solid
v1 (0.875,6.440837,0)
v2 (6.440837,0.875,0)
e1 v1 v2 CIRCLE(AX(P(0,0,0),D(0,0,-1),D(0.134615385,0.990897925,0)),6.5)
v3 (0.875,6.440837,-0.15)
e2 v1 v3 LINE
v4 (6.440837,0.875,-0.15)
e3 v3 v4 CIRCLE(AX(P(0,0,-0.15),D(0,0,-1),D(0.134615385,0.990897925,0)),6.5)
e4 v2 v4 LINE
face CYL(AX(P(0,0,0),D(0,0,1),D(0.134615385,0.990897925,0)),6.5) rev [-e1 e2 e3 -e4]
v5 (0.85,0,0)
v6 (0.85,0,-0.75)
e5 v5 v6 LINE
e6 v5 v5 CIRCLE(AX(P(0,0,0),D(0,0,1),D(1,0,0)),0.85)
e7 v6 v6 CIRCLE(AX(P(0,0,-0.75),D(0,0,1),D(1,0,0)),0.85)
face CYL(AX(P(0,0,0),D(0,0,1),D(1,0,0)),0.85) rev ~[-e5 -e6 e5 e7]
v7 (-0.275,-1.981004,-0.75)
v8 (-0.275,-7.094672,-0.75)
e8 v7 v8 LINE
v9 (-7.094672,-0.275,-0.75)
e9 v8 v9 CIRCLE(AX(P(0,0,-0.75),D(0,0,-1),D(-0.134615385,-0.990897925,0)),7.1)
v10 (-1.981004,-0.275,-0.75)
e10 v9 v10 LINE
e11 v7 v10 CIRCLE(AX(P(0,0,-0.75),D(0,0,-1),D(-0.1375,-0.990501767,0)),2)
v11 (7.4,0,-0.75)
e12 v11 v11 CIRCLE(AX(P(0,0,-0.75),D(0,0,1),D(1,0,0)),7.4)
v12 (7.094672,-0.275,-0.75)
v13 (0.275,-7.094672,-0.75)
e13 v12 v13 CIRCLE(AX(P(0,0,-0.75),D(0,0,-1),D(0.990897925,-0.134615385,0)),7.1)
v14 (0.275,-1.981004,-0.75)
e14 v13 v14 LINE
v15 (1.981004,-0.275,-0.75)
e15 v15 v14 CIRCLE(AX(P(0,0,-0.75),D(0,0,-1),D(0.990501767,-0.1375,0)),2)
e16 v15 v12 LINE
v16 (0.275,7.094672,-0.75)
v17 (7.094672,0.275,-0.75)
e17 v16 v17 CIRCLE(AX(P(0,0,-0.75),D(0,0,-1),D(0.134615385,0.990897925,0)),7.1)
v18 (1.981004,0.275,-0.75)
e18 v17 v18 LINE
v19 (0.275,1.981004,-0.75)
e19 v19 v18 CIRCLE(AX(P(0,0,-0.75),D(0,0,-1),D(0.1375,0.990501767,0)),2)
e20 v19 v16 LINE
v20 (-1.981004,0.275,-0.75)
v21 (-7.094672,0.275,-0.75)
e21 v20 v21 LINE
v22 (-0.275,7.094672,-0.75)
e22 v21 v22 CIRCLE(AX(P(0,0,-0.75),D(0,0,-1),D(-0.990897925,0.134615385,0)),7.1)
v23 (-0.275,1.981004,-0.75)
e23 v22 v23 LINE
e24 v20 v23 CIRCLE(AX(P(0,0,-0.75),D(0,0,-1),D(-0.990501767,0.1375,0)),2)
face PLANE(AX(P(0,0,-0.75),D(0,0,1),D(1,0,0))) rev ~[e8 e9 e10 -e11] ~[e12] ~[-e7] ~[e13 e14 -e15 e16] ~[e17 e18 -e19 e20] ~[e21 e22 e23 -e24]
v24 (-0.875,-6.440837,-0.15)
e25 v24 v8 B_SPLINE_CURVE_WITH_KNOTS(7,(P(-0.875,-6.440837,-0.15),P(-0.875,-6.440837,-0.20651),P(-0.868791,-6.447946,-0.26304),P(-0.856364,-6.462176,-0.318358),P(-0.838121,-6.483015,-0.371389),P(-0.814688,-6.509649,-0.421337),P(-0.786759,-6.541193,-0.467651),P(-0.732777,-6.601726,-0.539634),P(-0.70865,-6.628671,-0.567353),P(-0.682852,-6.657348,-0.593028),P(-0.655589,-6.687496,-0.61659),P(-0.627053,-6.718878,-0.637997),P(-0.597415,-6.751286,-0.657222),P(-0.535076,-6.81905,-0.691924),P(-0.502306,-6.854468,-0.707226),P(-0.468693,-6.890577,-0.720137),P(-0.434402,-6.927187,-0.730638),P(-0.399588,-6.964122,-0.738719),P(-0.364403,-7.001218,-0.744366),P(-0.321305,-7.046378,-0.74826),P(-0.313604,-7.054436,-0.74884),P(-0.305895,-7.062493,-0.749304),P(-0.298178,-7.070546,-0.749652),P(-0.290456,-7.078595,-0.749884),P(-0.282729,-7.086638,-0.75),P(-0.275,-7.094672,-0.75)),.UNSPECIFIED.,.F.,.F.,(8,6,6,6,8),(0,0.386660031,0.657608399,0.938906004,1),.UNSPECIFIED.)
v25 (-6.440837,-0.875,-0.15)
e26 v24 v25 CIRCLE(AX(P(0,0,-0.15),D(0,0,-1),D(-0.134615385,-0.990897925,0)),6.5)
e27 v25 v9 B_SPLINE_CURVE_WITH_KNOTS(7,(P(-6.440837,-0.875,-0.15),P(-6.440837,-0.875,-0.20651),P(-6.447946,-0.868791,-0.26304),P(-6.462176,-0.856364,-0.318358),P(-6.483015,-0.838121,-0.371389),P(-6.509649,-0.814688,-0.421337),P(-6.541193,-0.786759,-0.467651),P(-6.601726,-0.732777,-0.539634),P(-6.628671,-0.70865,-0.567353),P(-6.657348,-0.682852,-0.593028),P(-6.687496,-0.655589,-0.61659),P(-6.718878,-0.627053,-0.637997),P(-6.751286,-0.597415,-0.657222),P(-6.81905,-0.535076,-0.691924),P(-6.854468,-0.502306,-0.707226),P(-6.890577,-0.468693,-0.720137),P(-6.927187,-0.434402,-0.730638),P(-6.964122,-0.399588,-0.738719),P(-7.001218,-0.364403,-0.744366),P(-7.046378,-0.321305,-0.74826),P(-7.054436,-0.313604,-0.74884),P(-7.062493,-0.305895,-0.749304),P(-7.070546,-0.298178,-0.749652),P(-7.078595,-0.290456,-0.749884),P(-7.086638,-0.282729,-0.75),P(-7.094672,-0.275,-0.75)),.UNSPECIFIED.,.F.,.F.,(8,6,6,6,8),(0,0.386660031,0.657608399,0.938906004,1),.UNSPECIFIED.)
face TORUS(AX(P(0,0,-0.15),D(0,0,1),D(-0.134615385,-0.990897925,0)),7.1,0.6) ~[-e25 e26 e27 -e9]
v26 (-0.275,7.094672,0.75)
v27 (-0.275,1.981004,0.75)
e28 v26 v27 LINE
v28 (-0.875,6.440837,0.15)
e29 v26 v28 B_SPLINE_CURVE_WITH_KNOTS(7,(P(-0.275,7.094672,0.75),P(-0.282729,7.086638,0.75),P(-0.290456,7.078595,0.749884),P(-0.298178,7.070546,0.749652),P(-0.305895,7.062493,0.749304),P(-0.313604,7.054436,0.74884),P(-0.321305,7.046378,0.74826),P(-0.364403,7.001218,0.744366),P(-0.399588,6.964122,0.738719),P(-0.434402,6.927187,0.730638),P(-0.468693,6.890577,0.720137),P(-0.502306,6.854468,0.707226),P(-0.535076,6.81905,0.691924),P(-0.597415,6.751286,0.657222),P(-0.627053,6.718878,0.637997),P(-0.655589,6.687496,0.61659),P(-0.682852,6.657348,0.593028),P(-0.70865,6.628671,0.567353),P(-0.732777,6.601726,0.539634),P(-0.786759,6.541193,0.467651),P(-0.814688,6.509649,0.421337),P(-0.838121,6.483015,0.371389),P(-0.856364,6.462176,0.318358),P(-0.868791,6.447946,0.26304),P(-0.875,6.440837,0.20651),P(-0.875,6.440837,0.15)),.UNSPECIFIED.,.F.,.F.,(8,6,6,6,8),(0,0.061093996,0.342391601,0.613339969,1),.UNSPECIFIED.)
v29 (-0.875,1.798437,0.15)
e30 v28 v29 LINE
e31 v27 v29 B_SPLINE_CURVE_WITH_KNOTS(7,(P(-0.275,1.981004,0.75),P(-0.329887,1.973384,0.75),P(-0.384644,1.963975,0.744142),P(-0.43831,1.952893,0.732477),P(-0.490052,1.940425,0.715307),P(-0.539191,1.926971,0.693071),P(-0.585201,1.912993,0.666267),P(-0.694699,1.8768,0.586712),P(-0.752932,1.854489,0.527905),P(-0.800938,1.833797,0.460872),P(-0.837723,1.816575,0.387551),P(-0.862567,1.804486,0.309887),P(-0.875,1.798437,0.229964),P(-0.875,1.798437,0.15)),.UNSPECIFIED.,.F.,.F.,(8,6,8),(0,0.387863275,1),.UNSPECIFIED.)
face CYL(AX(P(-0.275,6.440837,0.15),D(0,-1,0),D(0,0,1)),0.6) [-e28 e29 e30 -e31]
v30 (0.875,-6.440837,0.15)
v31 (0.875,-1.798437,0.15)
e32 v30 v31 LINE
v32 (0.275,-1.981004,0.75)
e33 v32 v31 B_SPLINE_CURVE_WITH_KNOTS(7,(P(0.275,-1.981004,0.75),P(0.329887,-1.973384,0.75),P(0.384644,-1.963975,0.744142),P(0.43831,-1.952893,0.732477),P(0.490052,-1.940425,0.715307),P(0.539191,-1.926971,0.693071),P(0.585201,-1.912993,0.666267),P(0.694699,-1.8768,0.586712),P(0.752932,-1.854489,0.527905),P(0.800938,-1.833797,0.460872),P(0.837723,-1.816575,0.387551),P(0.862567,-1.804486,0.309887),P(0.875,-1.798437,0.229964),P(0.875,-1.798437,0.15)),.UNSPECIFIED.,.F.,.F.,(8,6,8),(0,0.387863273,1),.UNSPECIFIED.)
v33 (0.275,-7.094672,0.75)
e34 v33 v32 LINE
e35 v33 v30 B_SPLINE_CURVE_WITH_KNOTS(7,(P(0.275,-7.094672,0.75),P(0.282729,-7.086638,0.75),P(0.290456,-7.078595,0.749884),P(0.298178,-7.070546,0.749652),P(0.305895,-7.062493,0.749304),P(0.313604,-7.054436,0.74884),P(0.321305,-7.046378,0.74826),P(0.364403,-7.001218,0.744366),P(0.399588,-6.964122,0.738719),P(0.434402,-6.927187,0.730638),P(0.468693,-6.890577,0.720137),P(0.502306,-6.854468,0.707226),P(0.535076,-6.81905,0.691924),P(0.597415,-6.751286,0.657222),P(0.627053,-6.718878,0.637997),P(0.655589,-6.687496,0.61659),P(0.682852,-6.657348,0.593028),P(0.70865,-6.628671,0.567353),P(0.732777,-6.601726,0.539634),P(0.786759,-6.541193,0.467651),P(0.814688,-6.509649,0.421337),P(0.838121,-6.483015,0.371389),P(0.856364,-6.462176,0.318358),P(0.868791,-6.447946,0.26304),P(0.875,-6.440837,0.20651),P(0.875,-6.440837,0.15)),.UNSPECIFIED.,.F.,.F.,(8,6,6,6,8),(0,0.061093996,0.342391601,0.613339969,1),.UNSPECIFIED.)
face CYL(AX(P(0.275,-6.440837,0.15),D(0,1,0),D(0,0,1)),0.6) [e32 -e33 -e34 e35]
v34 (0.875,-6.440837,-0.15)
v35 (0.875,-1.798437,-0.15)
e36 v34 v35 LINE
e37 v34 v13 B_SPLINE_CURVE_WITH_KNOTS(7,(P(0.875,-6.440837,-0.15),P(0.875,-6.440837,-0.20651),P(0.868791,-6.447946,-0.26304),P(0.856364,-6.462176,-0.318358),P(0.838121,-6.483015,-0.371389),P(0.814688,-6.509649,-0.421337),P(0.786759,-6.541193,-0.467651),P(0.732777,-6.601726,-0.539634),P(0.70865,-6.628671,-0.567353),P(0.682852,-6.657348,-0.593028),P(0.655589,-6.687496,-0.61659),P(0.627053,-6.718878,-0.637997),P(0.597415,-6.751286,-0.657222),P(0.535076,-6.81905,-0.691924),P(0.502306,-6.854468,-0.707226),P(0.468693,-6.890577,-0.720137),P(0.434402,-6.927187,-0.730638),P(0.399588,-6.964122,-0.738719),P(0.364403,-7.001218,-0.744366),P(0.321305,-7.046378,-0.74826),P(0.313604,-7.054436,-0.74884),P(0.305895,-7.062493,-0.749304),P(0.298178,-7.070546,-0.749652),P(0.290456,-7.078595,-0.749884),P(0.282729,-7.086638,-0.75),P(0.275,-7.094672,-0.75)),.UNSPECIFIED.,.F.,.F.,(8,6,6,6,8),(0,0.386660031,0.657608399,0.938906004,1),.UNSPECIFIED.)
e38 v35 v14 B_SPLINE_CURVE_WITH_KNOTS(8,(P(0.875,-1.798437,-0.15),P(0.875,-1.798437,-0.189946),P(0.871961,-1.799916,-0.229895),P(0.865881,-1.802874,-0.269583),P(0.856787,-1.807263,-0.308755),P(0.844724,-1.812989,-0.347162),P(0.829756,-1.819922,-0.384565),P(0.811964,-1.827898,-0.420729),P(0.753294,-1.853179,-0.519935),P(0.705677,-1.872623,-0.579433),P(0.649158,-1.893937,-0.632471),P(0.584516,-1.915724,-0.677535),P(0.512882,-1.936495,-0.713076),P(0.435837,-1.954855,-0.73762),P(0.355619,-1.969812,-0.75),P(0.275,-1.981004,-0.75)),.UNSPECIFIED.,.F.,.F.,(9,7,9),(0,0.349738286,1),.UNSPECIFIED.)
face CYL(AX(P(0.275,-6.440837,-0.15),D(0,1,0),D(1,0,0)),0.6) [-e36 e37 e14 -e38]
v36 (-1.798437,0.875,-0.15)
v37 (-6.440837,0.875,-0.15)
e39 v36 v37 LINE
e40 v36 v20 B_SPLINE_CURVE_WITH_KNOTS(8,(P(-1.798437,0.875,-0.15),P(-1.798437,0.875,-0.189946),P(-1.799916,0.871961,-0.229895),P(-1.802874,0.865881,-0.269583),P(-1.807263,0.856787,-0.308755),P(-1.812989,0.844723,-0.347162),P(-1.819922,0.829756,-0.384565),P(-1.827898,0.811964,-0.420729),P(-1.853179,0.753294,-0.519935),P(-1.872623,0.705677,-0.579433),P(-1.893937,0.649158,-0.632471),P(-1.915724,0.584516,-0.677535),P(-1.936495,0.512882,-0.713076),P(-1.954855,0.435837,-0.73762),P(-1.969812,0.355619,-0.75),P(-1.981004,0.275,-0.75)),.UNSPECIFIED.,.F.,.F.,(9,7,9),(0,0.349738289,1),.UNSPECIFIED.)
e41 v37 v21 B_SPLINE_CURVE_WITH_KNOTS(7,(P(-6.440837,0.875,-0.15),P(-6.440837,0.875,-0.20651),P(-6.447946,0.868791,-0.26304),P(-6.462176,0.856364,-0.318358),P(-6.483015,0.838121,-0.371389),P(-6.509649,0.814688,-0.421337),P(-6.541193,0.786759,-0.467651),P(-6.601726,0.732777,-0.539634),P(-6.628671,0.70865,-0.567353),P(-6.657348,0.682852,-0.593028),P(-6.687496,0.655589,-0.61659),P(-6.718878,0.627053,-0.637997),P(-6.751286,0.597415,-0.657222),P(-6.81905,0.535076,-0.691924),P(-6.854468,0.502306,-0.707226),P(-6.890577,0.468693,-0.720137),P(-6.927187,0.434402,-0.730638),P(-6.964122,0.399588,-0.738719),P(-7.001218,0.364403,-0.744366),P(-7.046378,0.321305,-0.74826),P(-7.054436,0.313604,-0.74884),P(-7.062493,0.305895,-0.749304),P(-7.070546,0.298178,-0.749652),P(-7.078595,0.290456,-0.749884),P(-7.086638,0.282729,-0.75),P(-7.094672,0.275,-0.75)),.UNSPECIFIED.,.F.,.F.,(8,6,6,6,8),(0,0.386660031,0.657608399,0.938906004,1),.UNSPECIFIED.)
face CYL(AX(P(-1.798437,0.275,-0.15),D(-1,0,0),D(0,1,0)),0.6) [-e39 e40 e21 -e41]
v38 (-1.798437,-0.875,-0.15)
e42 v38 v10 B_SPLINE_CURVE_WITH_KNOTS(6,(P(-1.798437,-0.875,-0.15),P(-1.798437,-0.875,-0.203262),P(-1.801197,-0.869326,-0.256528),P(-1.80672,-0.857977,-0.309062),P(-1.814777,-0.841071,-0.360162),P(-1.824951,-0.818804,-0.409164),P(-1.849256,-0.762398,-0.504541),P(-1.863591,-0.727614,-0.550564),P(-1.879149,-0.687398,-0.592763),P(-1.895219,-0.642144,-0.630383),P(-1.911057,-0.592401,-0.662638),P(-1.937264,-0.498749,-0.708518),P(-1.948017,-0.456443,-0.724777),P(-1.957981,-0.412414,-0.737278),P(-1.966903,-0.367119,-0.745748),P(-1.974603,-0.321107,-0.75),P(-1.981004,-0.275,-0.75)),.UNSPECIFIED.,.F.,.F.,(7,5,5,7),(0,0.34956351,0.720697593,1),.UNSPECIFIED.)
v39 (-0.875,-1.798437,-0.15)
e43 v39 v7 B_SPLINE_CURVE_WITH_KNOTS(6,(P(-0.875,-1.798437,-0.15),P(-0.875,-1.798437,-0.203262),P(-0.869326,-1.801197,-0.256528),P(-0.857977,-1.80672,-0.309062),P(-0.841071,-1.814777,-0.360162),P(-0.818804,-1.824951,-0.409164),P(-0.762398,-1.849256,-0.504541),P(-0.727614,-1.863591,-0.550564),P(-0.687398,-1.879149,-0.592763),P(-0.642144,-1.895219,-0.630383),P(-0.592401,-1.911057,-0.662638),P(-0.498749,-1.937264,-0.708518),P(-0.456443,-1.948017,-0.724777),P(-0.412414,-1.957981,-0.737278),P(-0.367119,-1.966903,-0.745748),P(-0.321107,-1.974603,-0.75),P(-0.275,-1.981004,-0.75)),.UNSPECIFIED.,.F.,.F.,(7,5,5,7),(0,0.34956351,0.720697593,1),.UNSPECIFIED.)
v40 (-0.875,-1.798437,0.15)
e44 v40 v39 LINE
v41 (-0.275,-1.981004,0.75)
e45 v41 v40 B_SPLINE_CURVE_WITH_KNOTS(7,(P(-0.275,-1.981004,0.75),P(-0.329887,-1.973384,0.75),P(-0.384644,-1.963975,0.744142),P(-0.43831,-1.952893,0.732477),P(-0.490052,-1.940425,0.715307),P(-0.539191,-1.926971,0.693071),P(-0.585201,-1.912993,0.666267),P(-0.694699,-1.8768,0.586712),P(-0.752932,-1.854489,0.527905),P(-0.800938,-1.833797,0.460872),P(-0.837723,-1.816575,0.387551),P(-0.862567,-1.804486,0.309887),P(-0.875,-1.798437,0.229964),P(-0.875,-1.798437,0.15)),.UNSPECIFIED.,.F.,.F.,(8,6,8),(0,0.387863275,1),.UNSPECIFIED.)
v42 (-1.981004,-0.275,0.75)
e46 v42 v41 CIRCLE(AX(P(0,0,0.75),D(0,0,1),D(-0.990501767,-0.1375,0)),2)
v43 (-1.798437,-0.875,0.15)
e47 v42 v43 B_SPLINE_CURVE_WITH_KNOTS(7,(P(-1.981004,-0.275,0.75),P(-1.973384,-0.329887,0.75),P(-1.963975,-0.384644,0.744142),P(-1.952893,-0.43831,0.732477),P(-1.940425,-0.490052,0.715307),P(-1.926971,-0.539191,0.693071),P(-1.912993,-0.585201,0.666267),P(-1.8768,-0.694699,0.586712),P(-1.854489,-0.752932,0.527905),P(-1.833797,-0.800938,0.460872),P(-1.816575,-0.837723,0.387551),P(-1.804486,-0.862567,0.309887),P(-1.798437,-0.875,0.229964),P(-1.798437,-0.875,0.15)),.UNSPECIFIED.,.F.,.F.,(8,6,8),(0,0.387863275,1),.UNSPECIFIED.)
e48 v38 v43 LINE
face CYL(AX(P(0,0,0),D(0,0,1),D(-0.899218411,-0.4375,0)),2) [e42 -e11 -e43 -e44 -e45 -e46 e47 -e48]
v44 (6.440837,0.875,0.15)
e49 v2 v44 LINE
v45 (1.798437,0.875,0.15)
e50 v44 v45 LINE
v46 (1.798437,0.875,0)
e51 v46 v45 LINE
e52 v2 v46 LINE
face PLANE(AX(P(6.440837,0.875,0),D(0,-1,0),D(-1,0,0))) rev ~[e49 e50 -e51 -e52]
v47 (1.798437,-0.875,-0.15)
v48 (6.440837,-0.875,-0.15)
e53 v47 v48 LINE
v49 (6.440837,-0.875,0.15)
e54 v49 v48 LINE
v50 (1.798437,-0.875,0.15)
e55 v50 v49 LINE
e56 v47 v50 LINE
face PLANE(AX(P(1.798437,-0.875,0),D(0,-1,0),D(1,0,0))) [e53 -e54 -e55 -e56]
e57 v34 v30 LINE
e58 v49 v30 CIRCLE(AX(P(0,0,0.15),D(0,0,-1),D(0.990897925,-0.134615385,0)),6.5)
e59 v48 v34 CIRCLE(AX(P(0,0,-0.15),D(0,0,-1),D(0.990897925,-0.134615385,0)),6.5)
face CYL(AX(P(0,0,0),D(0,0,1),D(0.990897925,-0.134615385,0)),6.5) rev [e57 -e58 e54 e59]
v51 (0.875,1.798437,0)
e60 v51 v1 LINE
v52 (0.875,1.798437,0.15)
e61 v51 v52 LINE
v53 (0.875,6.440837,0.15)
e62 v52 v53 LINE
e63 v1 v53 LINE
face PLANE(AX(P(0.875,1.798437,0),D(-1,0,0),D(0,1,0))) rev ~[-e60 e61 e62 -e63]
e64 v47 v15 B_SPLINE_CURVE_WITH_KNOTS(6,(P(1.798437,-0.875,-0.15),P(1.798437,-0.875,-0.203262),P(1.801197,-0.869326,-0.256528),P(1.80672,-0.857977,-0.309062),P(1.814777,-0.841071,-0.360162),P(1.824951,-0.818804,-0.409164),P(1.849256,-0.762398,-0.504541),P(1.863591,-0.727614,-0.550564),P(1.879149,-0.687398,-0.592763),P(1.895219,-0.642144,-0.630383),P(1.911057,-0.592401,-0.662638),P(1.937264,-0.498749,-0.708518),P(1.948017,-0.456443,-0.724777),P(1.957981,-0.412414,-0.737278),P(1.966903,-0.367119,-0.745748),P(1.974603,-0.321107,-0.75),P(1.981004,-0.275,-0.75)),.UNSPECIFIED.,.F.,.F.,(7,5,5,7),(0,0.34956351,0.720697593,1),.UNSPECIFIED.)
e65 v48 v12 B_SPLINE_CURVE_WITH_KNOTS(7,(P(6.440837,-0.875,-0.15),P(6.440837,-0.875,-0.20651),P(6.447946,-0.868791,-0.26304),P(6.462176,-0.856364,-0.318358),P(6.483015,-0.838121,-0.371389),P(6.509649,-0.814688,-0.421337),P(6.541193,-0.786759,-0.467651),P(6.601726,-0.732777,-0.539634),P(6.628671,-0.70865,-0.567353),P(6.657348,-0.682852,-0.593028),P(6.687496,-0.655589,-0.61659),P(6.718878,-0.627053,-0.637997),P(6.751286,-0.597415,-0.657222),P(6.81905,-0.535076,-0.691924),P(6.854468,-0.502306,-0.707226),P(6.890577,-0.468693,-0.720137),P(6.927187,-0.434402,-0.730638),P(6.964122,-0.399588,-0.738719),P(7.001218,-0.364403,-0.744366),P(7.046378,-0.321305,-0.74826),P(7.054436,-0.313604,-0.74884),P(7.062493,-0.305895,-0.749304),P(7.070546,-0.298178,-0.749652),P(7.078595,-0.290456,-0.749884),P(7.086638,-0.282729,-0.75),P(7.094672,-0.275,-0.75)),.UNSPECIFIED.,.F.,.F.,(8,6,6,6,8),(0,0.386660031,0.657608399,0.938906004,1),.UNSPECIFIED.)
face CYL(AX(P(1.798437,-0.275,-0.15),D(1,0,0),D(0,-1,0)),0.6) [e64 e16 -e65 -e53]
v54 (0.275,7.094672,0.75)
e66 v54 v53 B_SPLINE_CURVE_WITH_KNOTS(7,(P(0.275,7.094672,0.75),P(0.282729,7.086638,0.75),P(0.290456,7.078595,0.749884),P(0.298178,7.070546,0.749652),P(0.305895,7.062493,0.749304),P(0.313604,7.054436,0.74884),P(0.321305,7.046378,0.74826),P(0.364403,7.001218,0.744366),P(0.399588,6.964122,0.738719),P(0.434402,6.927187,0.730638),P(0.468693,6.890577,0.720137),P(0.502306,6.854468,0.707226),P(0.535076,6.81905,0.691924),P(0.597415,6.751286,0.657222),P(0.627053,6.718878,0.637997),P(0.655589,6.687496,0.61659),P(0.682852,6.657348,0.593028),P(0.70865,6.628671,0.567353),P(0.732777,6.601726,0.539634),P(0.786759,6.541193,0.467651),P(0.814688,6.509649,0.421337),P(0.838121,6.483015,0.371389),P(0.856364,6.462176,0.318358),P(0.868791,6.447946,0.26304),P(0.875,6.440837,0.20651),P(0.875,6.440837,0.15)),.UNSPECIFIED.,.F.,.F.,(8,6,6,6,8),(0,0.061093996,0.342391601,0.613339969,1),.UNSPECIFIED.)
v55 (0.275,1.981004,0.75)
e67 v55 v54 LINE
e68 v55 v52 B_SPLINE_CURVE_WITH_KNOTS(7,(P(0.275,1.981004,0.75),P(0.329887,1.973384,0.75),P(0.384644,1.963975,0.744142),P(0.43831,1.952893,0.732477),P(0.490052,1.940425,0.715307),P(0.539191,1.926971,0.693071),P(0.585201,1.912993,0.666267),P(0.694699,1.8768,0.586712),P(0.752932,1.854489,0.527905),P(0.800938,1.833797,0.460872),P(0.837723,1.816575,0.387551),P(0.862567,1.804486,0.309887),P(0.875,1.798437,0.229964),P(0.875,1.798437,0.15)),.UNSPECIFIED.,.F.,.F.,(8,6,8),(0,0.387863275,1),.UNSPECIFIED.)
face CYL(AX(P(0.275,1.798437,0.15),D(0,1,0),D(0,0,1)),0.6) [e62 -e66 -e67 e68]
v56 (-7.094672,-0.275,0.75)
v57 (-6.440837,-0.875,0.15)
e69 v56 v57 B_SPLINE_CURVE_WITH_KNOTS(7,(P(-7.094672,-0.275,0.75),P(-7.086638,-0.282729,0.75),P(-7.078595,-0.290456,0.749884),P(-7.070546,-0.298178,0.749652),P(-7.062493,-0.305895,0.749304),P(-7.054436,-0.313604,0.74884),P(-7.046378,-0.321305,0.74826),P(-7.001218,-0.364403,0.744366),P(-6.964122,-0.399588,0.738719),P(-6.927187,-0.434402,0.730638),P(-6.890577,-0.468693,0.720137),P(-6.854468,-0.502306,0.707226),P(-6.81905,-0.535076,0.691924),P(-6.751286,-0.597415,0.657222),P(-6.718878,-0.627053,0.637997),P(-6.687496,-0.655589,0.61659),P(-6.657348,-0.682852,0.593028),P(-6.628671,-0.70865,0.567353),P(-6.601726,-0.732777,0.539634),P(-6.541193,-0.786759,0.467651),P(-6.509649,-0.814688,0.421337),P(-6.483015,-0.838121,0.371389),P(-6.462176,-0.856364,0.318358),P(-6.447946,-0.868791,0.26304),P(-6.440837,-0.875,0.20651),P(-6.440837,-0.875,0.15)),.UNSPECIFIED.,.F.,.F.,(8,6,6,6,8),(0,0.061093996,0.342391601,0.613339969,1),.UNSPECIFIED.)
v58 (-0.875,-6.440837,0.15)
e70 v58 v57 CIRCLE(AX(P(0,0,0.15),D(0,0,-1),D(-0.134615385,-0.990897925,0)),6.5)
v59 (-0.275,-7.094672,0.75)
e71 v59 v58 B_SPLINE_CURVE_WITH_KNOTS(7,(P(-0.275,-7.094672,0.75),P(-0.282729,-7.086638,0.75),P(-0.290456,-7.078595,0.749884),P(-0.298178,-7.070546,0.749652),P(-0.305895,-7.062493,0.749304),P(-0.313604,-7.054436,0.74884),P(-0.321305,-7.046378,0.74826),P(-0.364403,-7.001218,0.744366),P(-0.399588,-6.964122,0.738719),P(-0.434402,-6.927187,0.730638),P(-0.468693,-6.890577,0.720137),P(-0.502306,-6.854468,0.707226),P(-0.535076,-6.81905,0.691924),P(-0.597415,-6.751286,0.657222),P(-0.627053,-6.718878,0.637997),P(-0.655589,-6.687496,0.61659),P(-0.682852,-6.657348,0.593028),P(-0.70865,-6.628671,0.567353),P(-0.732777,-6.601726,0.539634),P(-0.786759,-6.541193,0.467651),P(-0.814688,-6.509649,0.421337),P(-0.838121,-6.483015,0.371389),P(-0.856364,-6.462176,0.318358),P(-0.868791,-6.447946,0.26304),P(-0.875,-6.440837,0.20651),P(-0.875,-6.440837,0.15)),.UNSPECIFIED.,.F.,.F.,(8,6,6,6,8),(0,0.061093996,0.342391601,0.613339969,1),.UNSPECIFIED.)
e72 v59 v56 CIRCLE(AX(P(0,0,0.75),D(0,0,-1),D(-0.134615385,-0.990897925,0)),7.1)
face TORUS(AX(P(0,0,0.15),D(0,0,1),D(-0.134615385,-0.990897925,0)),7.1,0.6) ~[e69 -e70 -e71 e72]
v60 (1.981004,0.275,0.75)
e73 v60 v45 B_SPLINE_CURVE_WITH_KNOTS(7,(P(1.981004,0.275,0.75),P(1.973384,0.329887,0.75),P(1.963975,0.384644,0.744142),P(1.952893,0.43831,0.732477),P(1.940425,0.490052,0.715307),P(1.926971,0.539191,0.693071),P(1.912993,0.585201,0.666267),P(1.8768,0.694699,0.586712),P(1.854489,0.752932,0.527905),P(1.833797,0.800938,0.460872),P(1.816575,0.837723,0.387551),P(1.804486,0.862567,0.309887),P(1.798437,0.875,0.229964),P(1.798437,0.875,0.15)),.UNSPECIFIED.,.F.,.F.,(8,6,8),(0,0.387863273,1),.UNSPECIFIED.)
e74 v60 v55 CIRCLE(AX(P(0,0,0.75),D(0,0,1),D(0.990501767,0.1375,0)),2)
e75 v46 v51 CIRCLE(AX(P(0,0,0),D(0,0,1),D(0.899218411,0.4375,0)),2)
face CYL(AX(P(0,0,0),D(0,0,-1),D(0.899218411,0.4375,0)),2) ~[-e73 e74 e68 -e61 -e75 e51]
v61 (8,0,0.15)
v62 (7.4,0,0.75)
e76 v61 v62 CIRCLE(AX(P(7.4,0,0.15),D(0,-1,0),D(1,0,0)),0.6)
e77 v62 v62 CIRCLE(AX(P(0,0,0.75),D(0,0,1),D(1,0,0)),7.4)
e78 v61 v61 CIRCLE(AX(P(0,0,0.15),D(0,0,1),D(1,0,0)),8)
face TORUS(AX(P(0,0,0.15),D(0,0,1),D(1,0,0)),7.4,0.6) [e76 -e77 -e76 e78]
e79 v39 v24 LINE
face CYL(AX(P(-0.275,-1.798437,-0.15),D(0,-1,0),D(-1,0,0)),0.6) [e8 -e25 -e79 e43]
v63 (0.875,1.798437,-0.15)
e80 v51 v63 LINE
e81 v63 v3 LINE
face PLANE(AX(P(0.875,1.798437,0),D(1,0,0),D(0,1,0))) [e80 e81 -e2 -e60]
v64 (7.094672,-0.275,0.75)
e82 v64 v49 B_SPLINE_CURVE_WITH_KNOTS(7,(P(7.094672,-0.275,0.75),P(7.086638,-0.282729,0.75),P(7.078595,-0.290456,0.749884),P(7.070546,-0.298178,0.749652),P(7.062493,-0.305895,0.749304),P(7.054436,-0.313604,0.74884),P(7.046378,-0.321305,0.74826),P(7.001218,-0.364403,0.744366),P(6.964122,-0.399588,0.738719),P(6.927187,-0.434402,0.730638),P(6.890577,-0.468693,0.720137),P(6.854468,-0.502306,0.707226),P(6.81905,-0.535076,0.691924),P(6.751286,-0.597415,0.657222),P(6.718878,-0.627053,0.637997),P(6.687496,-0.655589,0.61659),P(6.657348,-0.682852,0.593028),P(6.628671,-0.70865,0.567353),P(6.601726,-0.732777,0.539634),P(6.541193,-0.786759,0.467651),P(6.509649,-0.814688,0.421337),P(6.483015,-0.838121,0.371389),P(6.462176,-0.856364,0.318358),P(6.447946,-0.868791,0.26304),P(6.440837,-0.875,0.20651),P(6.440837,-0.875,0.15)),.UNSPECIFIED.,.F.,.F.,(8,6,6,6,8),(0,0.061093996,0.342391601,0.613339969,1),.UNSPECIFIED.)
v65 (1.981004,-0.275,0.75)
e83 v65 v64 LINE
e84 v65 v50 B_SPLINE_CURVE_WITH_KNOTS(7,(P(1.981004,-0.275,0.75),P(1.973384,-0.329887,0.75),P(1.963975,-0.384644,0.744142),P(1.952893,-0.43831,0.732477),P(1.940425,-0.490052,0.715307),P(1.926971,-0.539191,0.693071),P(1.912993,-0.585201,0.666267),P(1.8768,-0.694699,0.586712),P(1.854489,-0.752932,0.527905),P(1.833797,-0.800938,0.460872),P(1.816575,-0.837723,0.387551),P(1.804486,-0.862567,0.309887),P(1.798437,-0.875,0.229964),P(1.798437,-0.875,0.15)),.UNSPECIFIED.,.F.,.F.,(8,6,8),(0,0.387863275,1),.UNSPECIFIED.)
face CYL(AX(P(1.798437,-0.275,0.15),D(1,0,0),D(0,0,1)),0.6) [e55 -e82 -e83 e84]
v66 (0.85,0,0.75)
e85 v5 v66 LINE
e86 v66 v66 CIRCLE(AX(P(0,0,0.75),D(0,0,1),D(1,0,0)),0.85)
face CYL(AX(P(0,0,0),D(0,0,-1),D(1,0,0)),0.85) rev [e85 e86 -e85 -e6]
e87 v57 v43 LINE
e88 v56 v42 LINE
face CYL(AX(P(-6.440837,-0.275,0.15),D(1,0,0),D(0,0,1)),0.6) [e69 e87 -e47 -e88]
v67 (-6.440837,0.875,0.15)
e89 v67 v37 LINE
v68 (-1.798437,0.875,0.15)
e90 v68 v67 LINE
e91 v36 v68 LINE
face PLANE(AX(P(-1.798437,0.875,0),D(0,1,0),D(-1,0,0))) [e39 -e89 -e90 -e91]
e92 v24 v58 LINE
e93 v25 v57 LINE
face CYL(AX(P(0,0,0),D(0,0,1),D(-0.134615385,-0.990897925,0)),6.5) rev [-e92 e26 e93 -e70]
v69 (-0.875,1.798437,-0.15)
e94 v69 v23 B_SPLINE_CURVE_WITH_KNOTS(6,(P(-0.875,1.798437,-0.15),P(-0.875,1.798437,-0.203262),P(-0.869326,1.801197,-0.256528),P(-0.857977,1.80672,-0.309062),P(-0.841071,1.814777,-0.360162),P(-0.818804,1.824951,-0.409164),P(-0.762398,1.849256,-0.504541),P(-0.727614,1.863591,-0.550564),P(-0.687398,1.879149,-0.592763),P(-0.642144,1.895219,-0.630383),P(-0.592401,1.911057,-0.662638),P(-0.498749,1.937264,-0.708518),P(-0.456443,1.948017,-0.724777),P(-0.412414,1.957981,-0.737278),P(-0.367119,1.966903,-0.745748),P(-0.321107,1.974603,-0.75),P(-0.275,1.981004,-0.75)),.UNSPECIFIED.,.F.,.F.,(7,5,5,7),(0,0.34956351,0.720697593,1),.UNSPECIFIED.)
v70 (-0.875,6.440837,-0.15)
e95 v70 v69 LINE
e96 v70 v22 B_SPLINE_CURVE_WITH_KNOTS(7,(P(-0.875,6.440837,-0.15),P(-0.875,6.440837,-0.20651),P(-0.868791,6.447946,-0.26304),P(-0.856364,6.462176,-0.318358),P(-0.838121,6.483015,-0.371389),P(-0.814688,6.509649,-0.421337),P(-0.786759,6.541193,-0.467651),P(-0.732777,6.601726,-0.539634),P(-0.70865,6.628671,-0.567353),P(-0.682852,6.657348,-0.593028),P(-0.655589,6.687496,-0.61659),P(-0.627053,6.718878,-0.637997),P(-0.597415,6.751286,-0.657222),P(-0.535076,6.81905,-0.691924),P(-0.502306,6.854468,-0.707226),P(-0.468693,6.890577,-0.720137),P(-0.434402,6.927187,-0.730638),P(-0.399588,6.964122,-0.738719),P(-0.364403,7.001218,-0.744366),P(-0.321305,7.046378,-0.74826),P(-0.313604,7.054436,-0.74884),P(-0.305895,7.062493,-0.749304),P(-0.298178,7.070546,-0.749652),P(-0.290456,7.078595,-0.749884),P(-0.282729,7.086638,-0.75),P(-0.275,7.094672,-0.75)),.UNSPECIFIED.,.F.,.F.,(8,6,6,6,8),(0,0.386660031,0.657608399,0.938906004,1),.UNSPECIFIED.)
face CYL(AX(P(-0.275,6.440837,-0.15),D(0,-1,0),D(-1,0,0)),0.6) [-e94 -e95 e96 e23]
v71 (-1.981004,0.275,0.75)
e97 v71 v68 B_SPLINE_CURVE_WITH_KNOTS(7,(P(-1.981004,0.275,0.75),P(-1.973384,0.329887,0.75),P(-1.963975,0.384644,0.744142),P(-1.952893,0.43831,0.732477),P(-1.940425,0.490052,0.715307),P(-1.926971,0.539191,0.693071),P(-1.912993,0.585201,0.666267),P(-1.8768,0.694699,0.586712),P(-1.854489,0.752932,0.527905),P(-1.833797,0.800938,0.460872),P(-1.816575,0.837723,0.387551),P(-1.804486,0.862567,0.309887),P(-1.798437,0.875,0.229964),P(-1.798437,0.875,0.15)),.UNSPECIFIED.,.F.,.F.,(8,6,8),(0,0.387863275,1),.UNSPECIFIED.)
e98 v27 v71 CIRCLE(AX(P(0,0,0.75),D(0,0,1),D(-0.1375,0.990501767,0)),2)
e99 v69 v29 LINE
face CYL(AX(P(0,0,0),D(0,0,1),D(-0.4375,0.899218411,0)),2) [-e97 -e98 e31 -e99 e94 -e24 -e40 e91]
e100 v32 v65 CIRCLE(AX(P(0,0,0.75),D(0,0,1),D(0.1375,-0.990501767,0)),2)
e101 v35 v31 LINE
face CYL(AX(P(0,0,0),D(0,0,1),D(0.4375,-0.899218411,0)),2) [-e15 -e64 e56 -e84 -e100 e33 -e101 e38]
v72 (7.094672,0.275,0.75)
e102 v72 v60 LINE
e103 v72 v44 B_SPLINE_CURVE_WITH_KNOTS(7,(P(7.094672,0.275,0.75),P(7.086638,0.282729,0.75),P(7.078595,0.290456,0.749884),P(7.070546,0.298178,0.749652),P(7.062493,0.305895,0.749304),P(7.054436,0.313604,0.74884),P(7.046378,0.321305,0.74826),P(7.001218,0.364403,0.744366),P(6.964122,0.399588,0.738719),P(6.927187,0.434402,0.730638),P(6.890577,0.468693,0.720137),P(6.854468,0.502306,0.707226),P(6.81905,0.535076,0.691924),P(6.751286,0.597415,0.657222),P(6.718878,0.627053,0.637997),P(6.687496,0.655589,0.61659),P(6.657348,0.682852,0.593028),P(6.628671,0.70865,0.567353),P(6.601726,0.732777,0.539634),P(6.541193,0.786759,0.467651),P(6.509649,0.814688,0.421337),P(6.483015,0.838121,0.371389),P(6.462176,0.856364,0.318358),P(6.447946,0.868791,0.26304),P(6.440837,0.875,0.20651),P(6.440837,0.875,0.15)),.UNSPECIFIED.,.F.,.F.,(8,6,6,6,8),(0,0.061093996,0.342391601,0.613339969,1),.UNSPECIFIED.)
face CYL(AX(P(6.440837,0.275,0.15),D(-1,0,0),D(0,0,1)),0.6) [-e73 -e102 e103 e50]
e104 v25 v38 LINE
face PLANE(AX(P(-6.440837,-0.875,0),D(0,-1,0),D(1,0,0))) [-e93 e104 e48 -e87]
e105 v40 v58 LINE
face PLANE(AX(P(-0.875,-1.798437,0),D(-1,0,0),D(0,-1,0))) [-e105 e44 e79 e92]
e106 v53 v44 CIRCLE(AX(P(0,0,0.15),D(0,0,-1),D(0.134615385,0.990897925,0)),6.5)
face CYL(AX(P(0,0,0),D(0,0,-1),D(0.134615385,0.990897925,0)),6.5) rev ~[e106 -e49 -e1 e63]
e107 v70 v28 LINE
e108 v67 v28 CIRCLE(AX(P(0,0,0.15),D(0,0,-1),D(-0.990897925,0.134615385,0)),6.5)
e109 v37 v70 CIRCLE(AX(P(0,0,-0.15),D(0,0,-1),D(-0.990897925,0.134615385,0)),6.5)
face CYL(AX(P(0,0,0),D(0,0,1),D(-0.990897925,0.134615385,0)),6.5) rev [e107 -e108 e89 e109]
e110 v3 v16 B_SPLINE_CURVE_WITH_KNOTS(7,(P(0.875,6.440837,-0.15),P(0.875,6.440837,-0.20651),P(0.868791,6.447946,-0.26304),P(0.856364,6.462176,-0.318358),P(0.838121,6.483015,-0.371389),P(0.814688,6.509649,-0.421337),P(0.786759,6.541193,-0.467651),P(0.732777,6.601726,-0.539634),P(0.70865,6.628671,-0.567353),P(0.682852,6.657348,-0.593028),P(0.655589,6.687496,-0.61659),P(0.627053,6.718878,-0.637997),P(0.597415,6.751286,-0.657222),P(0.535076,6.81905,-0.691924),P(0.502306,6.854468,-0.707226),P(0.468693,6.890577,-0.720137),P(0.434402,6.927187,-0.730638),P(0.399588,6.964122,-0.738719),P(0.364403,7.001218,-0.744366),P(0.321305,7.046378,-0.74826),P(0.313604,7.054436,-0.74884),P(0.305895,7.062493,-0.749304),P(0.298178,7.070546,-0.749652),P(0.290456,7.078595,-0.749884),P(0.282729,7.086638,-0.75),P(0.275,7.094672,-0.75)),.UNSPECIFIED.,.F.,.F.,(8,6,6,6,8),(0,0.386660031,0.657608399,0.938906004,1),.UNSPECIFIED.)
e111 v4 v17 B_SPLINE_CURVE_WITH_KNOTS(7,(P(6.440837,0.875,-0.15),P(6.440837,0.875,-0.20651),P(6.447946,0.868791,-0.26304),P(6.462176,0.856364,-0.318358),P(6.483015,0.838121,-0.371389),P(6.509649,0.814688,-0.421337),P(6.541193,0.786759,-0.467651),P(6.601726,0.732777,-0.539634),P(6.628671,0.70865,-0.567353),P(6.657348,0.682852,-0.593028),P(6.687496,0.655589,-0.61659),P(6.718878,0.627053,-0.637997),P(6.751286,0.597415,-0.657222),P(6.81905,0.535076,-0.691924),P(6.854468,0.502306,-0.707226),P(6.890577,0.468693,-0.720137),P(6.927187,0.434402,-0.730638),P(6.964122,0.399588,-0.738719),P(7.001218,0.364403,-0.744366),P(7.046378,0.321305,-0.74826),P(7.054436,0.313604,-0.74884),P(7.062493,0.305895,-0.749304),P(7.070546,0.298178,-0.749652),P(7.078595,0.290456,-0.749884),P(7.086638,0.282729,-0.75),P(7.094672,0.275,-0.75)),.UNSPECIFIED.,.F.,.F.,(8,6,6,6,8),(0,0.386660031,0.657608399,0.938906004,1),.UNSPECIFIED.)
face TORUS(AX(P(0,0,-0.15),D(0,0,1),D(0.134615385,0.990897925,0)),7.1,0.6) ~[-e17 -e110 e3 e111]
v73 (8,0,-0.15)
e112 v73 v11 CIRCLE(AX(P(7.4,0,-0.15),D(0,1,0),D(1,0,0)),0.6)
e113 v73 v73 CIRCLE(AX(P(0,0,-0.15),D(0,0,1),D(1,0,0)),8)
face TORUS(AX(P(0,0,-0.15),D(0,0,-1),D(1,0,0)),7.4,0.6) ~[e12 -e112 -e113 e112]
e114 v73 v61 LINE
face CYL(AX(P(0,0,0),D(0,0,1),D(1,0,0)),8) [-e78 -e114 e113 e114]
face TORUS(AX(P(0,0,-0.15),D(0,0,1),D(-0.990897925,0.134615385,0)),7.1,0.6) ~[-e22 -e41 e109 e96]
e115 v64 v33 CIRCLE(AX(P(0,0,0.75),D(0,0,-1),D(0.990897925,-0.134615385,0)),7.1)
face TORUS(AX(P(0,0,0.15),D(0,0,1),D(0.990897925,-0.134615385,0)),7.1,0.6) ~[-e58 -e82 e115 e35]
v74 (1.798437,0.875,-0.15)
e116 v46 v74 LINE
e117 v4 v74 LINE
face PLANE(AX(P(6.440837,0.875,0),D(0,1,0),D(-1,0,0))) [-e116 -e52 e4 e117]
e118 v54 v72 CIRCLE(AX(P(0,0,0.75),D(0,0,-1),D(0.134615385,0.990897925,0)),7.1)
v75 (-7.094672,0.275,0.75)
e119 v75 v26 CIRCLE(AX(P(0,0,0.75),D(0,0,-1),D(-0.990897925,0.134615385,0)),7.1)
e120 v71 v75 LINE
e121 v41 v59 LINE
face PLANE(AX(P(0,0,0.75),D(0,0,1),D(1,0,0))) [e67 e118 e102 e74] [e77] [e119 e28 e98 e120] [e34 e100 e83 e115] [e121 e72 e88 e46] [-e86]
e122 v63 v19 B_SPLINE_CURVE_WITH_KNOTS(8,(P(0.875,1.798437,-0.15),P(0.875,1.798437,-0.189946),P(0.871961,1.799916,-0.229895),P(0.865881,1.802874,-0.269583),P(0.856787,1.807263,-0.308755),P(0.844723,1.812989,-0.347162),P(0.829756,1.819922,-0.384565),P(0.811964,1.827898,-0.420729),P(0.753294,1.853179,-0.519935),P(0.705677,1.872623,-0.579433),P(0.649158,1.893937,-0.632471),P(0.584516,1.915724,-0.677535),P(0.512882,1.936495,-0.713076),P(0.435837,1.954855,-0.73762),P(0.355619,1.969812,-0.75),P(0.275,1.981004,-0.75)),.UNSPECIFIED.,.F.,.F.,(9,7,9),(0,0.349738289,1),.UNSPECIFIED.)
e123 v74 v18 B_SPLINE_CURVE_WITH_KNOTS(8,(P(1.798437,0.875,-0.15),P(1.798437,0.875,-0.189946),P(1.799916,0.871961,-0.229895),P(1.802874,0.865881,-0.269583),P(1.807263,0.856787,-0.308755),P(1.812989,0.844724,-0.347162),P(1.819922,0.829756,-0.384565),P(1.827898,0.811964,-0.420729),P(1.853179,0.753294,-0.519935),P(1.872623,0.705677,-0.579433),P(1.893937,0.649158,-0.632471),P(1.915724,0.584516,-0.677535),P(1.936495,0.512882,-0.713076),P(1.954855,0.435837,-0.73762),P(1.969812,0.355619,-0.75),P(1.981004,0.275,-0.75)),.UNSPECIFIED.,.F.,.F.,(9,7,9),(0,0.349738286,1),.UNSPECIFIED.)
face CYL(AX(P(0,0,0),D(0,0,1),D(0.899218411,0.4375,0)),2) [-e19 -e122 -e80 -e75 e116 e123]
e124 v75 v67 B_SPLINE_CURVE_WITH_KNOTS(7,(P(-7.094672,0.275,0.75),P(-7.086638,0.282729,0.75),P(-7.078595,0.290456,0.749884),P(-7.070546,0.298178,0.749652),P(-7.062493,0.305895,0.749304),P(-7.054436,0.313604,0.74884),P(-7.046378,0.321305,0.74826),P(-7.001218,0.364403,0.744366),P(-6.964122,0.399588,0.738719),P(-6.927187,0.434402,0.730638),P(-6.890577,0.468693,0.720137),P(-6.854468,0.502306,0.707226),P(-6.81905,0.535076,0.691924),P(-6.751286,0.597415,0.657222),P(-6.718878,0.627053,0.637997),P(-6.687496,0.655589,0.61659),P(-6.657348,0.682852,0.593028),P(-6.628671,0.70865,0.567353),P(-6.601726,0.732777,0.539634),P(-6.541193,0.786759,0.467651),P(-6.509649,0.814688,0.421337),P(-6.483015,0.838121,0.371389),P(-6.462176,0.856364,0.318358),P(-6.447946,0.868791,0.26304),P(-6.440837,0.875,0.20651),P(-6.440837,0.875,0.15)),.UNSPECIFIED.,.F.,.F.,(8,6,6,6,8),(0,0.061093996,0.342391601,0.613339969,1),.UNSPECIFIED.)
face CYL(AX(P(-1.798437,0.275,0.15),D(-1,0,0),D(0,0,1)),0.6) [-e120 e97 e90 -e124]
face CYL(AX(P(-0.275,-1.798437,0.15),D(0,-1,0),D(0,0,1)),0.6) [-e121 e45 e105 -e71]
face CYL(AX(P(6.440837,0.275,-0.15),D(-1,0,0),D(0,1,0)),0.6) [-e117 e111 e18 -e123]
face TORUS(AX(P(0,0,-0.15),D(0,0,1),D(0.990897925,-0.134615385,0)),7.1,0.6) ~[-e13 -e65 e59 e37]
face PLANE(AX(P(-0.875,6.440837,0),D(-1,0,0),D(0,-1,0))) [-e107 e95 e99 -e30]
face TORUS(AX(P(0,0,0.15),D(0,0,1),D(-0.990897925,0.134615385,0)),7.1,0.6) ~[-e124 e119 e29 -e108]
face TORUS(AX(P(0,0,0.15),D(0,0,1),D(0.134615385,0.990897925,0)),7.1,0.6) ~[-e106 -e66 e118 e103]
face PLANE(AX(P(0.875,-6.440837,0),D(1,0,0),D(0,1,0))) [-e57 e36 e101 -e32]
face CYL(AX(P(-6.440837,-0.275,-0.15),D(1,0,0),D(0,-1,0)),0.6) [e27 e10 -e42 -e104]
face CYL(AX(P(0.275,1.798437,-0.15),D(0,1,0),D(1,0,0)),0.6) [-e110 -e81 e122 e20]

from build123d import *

# Parameters (mm, degrees)
F0_R          = 8
F0_W          = 1.75
F0_H          = 1.75
F0_R_2        = 0.85
F1_DEPTH      = 0.75
F1_DEPTH_BACK = 0.75
F2_R          = 0.6


with BuildPart() as f1:
    # F0 (on Top) → F1 (new body, two sides)
    with BuildSketch(Plane.XY) as f1_sk:
        Circle(F0_R)
        with BuildLine():
            ThreePointArc((0.875, 6.440836514), (4.5961940777, 4.5961940777), (6.440836514, 0.875))
            Line((6.440836514, 0.875), (7.3671648279, 0.875))
            Line((7.3671648279, 0.875), (7.3671648279, -0.875))
            Line((7.3671648279, -0.875), (6.440836514, -0.875))
            ThreePointArc((6.440836514, -0.875), (4.5961940777, -4.5961940777), (0.875, -6.440836514))
            Line((0.875, -6.440836514), (0.875, -6.9778915495))
            Line((0.875, -6.9778915495), (-0.875, -6.9778915495))
            Line((-0.875, -6.9778915495), (-0.875, -6.440836514))
            ThreePointArc((-0.875, -6.440836514), (-4.5961940777, -4.5961940777), (-6.440836514, -0.875))
            Line((-6.440836514, -0.875), (-7.3671648279, -0.875))
            Line((-7.3671648279, -0.875), (-7.3671648279, 0.875))
            Line((-7.3671648279, 0.875), (-6.440836514, 0.875))
            ThreePointArc((-6.440836514, 0.875), (-4.5961940777, 4.5961940777), (-0.875, 6.440836514))
            Line((-0.875, 6.440836514), (-0.875, 6.9778915495))
            Line((-0.875, 6.9778915495), (0.875, 6.9778915495))
            Line((0.875, 6.9778915495), (0.875, 6.440836514))
        make_face(mode=Mode.SUBTRACT)
        with BuildLine():
            Line((-1.7984368212, 0.875), (-6.440836514, 0.875))
            ThreePointArc((-6.440836514, 0.875), (-6.5, 0), (-6.440836514, -0.875))
            Line((-6.440836514, -0.875), (-1.7984368212, -0.875))
            ThreePointArc((-1.7984368212, -0.875), (-2, 0), (-1.7984368212, 0.875))
        make_face()
        with BuildLine():
            Line((0.875, 1.7984368212), (0.875, 6.440836514))
            ThreePointArc((0.875, 6.440836514), (0, 6.5), (-0.875, 6.440836514))
            Line((-0.875, 6.440836514), (-0.875, 1.7984368212))
            ThreePointArc((-0.875, 1.7984368212), (0, 2), (0.875, 1.7984368212))
        make_face()
        with BuildLine():
            ThreePointArc((6.440836514, -0.875), (6.4851922616, -0.4384989504), (6.5, 0))
            ThreePointArc((6.5, 0), (6.4851922616, 0.4384989504), (6.440836514, 0.875))
            Line((6.440836514, 0.875), (1.7984368212, 0.875))
            ThreePointArc((1.7984368212, 0.875), (1.9489578808, 0.4489578808), (2, 0))
            ThreePointArc((2, 0), (1.9489578808, -0.4489578808), (1.7984368212, -0.875))
            Line((1.7984368212, -0.875), (6.440836514, -0.875))
        make_face()
        with BuildLine():
            ThreePointArc((-0.875, -6.440836514), (0, -6.5), (0.875, -6.440836514))
            Line((0.875, -6.440836514), (0.875, -1.7984368212))
            ThreePointArc((0.875, -1.7984368212), (0, -2), (-0.875, -1.7984368212))
            Line((-0.875, -1.7984368212), (-0.875, -6.440836514))
        make_face()
        Rectangle(F0_W, F0_H)
        Circle(F0_R_2, mode=Mode.SUBTRACT)
        with BuildLine():
            Line((0.875, 0.875), (0.875, 1.7984368212))
            ThreePointArc((0.875, 1.7984368212), (0, 2), (-0.875, 1.7984368212))
            Line((-0.875, 1.7984368212), (-0.875, 0.875))
            Line((-0.875, 0.875), (0.875, 0.875))
        make_face()
        with BuildLine():
            Line((-0.875, -0.875), (-0.875, 0.875))
            Line((-0.875, 0.875), (-1.7984368212, 0.875))
            ThreePointArc((-1.7984368212, 0.875), (-2, 0), (-1.7984368212, -0.875))
            Line((-1.7984368212, -0.875), (-0.875, -0.875))
        make_face()
        with BuildLine():
            ThreePointArc((-0.875, -1.7984368212), (0, -2), (0.875, -1.7984368212))
            Line((0.875, -1.7984368212), (0.875, -0.875))
            Line((0.875, -0.875), (-0.875, -0.875))
            Line((-0.875, -0.875), (-0.875, -1.7984368212))
        make_face()
        with BuildLine():
            ThreePointArc((2, 0), (1.9489578808, 0.4489578808), (1.7984368212, 0.875))
            Line((1.7984368212, 0.875), (0.875, 0.875))
            Line((0.875, 0.875), (0.875, -0.875))
            Line((0.875, -0.875), (1.7984368212, -0.875))
            ThreePointArc((1.7984368212, -0.875), (1.9489578808, -0.4489578808), (2, 0))
        make_face()
        with BuildLine():
            ThreePointArc((-6.440836514, -0.875), (-6.5, 0), (-6.440836514, 0.875))
            Line((-6.440836514, 0.875), (-7.3671648279, 0.875))
            Line((-7.3671648279, 0.875), (-7.3671648279, -0.875))
            Line((-7.3671648279, -0.875), (-6.440836514, -0.875))
        make_face()
        with BuildLine():
            ThreePointArc((6.440836514, 0.875), (6.4851922616, 0.4384989504), (6.5, 0))
            ThreePointArc((6.5, 0), (6.4851922616, -0.4384989504), (6.440836514, -0.875))
            Line((6.440836514, -0.875), (7.3671648279, -0.875))
            Line((7.3671648279, -0.875), (7.3671648279, 0.875))
            Line((7.3671648279, 0.875), (6.440836514, 0.875))
        make_face()
        with BuildLine():
            ThreePointArc((-0.875, 6.440836514), (0, 6.5), (0.875, 6.440836514))
            Line((0.875, 6.440836514), (0.875, 6.9778915495))
            Line((0.875, 6.9778915495), (-0.875, 6.9778915495))
            Line((-0.875, 6.9778915495), (-0.875, 6.440836514))
        make_face()
        with BuildLine():
            Line((0.875, -6.9778915495), (0.875, -6.440836514))
            ThreePointArc((0.875, -6.440836514), (0, -6.5), (-0.875, -6.440836514))
            Line((-0.875, -6.440836514), (-0.875, -6.9778915495))
            Line((-0.875, -6.9778915495), (0.875, -6.9778915495))
        make_face()
        with BuildLine():
            Line((0.875, 0.875), (1.7984368212, 0.875))
            ThreePointArc((1.7984368212, 0.875), (1.4142135624, 1.4142135624), (0.875, 1.7984368212))
            Line((0.875, 1.7984368212), (0.875, 0.875))
        make_face()
        with BuildLine():
            Line((-0.875, 0.875), (-0.875, 1.7984368212))
            ThreePointArc((-0.875, 1.7984368212), (-1.4142135624, 1.4142135624), (-1.7984368212, 0.875))
            Line((-1.7984368212, 0.875), (-0.875, 0.875))
        make_face()
        with BuildLine():
            ThreePointArc((-1.7984368212, -0.875), (-1.4142135624, -1.4142135624), (-0.875, -1.7984368212))
            Line((-0.875, -1.7984368212), (-0.875, -0.875))
            Line((-0.875, -0.875), (-1.7984368212, -0.875))
        make_face()
        with BuildLine():
            ThreePointArc((0.875, -1.7984368212), (1.4142135624, -1.4142135624), (1.7984368212, -0.875))
            Line((1.7984368212, -0.875), (0.875, -0.875))
            Line((0.875, -0.875), (0.875, -1.7984368212))
        make_face()
    extrude(amount=F1_DEPTH)
    extrude(f1_sk.sketch, amount=-F1_DEPTH_BACK)

    # F2
    f2_edges = [f1.edges().sort_by_distance(p)[0] for p in [
        (-8, 0, 0.75),
        (-4.596194, -4.596194, 0.75),
        (-4.119637, -0.875, 0.75),
        (-4.119637, 0.875, 0.75),
        (-0.875, 4.119637, 0.75),
        (0.875, 4.119637, 0.75),
        (-4.596194, 4.596194, 0.75),
        (4.596194, 4.596194, 0.75),
        (4.119637, 0.875, 0.75),
        (4.119637, -0.875, 0.75),
        (4.596194, -4.596194, 0.75),
        (0.875, -4.119637, 0.75),
        (-0.875, -4.119637, 0.75),
        (-8, 0, -0.75),
        (4.596194, -4.596194, -0.75),
        (4.119637, -0.875, -0.75),
        (0.875, -4.119637, -0.75),
        (-0.875, -4.119637, -0.75),
        (-4.596194, -4.596194, -0.75),
        (-4.119637, -0.875, -0.75),
        (-4.119637, 0.875, -0.75),
        (-4.596194, 4.596194, -0.75),
        (4.596194, 4.596194, -0.75),
        (4.119637, 0.875, -0.75),
        (-0.875, 4.119637, -0.75),
        (0.875, 4.119637, -0.75),
    ]]
    fillet(f2_edges, radius=F2_R)


solid = f1.part
